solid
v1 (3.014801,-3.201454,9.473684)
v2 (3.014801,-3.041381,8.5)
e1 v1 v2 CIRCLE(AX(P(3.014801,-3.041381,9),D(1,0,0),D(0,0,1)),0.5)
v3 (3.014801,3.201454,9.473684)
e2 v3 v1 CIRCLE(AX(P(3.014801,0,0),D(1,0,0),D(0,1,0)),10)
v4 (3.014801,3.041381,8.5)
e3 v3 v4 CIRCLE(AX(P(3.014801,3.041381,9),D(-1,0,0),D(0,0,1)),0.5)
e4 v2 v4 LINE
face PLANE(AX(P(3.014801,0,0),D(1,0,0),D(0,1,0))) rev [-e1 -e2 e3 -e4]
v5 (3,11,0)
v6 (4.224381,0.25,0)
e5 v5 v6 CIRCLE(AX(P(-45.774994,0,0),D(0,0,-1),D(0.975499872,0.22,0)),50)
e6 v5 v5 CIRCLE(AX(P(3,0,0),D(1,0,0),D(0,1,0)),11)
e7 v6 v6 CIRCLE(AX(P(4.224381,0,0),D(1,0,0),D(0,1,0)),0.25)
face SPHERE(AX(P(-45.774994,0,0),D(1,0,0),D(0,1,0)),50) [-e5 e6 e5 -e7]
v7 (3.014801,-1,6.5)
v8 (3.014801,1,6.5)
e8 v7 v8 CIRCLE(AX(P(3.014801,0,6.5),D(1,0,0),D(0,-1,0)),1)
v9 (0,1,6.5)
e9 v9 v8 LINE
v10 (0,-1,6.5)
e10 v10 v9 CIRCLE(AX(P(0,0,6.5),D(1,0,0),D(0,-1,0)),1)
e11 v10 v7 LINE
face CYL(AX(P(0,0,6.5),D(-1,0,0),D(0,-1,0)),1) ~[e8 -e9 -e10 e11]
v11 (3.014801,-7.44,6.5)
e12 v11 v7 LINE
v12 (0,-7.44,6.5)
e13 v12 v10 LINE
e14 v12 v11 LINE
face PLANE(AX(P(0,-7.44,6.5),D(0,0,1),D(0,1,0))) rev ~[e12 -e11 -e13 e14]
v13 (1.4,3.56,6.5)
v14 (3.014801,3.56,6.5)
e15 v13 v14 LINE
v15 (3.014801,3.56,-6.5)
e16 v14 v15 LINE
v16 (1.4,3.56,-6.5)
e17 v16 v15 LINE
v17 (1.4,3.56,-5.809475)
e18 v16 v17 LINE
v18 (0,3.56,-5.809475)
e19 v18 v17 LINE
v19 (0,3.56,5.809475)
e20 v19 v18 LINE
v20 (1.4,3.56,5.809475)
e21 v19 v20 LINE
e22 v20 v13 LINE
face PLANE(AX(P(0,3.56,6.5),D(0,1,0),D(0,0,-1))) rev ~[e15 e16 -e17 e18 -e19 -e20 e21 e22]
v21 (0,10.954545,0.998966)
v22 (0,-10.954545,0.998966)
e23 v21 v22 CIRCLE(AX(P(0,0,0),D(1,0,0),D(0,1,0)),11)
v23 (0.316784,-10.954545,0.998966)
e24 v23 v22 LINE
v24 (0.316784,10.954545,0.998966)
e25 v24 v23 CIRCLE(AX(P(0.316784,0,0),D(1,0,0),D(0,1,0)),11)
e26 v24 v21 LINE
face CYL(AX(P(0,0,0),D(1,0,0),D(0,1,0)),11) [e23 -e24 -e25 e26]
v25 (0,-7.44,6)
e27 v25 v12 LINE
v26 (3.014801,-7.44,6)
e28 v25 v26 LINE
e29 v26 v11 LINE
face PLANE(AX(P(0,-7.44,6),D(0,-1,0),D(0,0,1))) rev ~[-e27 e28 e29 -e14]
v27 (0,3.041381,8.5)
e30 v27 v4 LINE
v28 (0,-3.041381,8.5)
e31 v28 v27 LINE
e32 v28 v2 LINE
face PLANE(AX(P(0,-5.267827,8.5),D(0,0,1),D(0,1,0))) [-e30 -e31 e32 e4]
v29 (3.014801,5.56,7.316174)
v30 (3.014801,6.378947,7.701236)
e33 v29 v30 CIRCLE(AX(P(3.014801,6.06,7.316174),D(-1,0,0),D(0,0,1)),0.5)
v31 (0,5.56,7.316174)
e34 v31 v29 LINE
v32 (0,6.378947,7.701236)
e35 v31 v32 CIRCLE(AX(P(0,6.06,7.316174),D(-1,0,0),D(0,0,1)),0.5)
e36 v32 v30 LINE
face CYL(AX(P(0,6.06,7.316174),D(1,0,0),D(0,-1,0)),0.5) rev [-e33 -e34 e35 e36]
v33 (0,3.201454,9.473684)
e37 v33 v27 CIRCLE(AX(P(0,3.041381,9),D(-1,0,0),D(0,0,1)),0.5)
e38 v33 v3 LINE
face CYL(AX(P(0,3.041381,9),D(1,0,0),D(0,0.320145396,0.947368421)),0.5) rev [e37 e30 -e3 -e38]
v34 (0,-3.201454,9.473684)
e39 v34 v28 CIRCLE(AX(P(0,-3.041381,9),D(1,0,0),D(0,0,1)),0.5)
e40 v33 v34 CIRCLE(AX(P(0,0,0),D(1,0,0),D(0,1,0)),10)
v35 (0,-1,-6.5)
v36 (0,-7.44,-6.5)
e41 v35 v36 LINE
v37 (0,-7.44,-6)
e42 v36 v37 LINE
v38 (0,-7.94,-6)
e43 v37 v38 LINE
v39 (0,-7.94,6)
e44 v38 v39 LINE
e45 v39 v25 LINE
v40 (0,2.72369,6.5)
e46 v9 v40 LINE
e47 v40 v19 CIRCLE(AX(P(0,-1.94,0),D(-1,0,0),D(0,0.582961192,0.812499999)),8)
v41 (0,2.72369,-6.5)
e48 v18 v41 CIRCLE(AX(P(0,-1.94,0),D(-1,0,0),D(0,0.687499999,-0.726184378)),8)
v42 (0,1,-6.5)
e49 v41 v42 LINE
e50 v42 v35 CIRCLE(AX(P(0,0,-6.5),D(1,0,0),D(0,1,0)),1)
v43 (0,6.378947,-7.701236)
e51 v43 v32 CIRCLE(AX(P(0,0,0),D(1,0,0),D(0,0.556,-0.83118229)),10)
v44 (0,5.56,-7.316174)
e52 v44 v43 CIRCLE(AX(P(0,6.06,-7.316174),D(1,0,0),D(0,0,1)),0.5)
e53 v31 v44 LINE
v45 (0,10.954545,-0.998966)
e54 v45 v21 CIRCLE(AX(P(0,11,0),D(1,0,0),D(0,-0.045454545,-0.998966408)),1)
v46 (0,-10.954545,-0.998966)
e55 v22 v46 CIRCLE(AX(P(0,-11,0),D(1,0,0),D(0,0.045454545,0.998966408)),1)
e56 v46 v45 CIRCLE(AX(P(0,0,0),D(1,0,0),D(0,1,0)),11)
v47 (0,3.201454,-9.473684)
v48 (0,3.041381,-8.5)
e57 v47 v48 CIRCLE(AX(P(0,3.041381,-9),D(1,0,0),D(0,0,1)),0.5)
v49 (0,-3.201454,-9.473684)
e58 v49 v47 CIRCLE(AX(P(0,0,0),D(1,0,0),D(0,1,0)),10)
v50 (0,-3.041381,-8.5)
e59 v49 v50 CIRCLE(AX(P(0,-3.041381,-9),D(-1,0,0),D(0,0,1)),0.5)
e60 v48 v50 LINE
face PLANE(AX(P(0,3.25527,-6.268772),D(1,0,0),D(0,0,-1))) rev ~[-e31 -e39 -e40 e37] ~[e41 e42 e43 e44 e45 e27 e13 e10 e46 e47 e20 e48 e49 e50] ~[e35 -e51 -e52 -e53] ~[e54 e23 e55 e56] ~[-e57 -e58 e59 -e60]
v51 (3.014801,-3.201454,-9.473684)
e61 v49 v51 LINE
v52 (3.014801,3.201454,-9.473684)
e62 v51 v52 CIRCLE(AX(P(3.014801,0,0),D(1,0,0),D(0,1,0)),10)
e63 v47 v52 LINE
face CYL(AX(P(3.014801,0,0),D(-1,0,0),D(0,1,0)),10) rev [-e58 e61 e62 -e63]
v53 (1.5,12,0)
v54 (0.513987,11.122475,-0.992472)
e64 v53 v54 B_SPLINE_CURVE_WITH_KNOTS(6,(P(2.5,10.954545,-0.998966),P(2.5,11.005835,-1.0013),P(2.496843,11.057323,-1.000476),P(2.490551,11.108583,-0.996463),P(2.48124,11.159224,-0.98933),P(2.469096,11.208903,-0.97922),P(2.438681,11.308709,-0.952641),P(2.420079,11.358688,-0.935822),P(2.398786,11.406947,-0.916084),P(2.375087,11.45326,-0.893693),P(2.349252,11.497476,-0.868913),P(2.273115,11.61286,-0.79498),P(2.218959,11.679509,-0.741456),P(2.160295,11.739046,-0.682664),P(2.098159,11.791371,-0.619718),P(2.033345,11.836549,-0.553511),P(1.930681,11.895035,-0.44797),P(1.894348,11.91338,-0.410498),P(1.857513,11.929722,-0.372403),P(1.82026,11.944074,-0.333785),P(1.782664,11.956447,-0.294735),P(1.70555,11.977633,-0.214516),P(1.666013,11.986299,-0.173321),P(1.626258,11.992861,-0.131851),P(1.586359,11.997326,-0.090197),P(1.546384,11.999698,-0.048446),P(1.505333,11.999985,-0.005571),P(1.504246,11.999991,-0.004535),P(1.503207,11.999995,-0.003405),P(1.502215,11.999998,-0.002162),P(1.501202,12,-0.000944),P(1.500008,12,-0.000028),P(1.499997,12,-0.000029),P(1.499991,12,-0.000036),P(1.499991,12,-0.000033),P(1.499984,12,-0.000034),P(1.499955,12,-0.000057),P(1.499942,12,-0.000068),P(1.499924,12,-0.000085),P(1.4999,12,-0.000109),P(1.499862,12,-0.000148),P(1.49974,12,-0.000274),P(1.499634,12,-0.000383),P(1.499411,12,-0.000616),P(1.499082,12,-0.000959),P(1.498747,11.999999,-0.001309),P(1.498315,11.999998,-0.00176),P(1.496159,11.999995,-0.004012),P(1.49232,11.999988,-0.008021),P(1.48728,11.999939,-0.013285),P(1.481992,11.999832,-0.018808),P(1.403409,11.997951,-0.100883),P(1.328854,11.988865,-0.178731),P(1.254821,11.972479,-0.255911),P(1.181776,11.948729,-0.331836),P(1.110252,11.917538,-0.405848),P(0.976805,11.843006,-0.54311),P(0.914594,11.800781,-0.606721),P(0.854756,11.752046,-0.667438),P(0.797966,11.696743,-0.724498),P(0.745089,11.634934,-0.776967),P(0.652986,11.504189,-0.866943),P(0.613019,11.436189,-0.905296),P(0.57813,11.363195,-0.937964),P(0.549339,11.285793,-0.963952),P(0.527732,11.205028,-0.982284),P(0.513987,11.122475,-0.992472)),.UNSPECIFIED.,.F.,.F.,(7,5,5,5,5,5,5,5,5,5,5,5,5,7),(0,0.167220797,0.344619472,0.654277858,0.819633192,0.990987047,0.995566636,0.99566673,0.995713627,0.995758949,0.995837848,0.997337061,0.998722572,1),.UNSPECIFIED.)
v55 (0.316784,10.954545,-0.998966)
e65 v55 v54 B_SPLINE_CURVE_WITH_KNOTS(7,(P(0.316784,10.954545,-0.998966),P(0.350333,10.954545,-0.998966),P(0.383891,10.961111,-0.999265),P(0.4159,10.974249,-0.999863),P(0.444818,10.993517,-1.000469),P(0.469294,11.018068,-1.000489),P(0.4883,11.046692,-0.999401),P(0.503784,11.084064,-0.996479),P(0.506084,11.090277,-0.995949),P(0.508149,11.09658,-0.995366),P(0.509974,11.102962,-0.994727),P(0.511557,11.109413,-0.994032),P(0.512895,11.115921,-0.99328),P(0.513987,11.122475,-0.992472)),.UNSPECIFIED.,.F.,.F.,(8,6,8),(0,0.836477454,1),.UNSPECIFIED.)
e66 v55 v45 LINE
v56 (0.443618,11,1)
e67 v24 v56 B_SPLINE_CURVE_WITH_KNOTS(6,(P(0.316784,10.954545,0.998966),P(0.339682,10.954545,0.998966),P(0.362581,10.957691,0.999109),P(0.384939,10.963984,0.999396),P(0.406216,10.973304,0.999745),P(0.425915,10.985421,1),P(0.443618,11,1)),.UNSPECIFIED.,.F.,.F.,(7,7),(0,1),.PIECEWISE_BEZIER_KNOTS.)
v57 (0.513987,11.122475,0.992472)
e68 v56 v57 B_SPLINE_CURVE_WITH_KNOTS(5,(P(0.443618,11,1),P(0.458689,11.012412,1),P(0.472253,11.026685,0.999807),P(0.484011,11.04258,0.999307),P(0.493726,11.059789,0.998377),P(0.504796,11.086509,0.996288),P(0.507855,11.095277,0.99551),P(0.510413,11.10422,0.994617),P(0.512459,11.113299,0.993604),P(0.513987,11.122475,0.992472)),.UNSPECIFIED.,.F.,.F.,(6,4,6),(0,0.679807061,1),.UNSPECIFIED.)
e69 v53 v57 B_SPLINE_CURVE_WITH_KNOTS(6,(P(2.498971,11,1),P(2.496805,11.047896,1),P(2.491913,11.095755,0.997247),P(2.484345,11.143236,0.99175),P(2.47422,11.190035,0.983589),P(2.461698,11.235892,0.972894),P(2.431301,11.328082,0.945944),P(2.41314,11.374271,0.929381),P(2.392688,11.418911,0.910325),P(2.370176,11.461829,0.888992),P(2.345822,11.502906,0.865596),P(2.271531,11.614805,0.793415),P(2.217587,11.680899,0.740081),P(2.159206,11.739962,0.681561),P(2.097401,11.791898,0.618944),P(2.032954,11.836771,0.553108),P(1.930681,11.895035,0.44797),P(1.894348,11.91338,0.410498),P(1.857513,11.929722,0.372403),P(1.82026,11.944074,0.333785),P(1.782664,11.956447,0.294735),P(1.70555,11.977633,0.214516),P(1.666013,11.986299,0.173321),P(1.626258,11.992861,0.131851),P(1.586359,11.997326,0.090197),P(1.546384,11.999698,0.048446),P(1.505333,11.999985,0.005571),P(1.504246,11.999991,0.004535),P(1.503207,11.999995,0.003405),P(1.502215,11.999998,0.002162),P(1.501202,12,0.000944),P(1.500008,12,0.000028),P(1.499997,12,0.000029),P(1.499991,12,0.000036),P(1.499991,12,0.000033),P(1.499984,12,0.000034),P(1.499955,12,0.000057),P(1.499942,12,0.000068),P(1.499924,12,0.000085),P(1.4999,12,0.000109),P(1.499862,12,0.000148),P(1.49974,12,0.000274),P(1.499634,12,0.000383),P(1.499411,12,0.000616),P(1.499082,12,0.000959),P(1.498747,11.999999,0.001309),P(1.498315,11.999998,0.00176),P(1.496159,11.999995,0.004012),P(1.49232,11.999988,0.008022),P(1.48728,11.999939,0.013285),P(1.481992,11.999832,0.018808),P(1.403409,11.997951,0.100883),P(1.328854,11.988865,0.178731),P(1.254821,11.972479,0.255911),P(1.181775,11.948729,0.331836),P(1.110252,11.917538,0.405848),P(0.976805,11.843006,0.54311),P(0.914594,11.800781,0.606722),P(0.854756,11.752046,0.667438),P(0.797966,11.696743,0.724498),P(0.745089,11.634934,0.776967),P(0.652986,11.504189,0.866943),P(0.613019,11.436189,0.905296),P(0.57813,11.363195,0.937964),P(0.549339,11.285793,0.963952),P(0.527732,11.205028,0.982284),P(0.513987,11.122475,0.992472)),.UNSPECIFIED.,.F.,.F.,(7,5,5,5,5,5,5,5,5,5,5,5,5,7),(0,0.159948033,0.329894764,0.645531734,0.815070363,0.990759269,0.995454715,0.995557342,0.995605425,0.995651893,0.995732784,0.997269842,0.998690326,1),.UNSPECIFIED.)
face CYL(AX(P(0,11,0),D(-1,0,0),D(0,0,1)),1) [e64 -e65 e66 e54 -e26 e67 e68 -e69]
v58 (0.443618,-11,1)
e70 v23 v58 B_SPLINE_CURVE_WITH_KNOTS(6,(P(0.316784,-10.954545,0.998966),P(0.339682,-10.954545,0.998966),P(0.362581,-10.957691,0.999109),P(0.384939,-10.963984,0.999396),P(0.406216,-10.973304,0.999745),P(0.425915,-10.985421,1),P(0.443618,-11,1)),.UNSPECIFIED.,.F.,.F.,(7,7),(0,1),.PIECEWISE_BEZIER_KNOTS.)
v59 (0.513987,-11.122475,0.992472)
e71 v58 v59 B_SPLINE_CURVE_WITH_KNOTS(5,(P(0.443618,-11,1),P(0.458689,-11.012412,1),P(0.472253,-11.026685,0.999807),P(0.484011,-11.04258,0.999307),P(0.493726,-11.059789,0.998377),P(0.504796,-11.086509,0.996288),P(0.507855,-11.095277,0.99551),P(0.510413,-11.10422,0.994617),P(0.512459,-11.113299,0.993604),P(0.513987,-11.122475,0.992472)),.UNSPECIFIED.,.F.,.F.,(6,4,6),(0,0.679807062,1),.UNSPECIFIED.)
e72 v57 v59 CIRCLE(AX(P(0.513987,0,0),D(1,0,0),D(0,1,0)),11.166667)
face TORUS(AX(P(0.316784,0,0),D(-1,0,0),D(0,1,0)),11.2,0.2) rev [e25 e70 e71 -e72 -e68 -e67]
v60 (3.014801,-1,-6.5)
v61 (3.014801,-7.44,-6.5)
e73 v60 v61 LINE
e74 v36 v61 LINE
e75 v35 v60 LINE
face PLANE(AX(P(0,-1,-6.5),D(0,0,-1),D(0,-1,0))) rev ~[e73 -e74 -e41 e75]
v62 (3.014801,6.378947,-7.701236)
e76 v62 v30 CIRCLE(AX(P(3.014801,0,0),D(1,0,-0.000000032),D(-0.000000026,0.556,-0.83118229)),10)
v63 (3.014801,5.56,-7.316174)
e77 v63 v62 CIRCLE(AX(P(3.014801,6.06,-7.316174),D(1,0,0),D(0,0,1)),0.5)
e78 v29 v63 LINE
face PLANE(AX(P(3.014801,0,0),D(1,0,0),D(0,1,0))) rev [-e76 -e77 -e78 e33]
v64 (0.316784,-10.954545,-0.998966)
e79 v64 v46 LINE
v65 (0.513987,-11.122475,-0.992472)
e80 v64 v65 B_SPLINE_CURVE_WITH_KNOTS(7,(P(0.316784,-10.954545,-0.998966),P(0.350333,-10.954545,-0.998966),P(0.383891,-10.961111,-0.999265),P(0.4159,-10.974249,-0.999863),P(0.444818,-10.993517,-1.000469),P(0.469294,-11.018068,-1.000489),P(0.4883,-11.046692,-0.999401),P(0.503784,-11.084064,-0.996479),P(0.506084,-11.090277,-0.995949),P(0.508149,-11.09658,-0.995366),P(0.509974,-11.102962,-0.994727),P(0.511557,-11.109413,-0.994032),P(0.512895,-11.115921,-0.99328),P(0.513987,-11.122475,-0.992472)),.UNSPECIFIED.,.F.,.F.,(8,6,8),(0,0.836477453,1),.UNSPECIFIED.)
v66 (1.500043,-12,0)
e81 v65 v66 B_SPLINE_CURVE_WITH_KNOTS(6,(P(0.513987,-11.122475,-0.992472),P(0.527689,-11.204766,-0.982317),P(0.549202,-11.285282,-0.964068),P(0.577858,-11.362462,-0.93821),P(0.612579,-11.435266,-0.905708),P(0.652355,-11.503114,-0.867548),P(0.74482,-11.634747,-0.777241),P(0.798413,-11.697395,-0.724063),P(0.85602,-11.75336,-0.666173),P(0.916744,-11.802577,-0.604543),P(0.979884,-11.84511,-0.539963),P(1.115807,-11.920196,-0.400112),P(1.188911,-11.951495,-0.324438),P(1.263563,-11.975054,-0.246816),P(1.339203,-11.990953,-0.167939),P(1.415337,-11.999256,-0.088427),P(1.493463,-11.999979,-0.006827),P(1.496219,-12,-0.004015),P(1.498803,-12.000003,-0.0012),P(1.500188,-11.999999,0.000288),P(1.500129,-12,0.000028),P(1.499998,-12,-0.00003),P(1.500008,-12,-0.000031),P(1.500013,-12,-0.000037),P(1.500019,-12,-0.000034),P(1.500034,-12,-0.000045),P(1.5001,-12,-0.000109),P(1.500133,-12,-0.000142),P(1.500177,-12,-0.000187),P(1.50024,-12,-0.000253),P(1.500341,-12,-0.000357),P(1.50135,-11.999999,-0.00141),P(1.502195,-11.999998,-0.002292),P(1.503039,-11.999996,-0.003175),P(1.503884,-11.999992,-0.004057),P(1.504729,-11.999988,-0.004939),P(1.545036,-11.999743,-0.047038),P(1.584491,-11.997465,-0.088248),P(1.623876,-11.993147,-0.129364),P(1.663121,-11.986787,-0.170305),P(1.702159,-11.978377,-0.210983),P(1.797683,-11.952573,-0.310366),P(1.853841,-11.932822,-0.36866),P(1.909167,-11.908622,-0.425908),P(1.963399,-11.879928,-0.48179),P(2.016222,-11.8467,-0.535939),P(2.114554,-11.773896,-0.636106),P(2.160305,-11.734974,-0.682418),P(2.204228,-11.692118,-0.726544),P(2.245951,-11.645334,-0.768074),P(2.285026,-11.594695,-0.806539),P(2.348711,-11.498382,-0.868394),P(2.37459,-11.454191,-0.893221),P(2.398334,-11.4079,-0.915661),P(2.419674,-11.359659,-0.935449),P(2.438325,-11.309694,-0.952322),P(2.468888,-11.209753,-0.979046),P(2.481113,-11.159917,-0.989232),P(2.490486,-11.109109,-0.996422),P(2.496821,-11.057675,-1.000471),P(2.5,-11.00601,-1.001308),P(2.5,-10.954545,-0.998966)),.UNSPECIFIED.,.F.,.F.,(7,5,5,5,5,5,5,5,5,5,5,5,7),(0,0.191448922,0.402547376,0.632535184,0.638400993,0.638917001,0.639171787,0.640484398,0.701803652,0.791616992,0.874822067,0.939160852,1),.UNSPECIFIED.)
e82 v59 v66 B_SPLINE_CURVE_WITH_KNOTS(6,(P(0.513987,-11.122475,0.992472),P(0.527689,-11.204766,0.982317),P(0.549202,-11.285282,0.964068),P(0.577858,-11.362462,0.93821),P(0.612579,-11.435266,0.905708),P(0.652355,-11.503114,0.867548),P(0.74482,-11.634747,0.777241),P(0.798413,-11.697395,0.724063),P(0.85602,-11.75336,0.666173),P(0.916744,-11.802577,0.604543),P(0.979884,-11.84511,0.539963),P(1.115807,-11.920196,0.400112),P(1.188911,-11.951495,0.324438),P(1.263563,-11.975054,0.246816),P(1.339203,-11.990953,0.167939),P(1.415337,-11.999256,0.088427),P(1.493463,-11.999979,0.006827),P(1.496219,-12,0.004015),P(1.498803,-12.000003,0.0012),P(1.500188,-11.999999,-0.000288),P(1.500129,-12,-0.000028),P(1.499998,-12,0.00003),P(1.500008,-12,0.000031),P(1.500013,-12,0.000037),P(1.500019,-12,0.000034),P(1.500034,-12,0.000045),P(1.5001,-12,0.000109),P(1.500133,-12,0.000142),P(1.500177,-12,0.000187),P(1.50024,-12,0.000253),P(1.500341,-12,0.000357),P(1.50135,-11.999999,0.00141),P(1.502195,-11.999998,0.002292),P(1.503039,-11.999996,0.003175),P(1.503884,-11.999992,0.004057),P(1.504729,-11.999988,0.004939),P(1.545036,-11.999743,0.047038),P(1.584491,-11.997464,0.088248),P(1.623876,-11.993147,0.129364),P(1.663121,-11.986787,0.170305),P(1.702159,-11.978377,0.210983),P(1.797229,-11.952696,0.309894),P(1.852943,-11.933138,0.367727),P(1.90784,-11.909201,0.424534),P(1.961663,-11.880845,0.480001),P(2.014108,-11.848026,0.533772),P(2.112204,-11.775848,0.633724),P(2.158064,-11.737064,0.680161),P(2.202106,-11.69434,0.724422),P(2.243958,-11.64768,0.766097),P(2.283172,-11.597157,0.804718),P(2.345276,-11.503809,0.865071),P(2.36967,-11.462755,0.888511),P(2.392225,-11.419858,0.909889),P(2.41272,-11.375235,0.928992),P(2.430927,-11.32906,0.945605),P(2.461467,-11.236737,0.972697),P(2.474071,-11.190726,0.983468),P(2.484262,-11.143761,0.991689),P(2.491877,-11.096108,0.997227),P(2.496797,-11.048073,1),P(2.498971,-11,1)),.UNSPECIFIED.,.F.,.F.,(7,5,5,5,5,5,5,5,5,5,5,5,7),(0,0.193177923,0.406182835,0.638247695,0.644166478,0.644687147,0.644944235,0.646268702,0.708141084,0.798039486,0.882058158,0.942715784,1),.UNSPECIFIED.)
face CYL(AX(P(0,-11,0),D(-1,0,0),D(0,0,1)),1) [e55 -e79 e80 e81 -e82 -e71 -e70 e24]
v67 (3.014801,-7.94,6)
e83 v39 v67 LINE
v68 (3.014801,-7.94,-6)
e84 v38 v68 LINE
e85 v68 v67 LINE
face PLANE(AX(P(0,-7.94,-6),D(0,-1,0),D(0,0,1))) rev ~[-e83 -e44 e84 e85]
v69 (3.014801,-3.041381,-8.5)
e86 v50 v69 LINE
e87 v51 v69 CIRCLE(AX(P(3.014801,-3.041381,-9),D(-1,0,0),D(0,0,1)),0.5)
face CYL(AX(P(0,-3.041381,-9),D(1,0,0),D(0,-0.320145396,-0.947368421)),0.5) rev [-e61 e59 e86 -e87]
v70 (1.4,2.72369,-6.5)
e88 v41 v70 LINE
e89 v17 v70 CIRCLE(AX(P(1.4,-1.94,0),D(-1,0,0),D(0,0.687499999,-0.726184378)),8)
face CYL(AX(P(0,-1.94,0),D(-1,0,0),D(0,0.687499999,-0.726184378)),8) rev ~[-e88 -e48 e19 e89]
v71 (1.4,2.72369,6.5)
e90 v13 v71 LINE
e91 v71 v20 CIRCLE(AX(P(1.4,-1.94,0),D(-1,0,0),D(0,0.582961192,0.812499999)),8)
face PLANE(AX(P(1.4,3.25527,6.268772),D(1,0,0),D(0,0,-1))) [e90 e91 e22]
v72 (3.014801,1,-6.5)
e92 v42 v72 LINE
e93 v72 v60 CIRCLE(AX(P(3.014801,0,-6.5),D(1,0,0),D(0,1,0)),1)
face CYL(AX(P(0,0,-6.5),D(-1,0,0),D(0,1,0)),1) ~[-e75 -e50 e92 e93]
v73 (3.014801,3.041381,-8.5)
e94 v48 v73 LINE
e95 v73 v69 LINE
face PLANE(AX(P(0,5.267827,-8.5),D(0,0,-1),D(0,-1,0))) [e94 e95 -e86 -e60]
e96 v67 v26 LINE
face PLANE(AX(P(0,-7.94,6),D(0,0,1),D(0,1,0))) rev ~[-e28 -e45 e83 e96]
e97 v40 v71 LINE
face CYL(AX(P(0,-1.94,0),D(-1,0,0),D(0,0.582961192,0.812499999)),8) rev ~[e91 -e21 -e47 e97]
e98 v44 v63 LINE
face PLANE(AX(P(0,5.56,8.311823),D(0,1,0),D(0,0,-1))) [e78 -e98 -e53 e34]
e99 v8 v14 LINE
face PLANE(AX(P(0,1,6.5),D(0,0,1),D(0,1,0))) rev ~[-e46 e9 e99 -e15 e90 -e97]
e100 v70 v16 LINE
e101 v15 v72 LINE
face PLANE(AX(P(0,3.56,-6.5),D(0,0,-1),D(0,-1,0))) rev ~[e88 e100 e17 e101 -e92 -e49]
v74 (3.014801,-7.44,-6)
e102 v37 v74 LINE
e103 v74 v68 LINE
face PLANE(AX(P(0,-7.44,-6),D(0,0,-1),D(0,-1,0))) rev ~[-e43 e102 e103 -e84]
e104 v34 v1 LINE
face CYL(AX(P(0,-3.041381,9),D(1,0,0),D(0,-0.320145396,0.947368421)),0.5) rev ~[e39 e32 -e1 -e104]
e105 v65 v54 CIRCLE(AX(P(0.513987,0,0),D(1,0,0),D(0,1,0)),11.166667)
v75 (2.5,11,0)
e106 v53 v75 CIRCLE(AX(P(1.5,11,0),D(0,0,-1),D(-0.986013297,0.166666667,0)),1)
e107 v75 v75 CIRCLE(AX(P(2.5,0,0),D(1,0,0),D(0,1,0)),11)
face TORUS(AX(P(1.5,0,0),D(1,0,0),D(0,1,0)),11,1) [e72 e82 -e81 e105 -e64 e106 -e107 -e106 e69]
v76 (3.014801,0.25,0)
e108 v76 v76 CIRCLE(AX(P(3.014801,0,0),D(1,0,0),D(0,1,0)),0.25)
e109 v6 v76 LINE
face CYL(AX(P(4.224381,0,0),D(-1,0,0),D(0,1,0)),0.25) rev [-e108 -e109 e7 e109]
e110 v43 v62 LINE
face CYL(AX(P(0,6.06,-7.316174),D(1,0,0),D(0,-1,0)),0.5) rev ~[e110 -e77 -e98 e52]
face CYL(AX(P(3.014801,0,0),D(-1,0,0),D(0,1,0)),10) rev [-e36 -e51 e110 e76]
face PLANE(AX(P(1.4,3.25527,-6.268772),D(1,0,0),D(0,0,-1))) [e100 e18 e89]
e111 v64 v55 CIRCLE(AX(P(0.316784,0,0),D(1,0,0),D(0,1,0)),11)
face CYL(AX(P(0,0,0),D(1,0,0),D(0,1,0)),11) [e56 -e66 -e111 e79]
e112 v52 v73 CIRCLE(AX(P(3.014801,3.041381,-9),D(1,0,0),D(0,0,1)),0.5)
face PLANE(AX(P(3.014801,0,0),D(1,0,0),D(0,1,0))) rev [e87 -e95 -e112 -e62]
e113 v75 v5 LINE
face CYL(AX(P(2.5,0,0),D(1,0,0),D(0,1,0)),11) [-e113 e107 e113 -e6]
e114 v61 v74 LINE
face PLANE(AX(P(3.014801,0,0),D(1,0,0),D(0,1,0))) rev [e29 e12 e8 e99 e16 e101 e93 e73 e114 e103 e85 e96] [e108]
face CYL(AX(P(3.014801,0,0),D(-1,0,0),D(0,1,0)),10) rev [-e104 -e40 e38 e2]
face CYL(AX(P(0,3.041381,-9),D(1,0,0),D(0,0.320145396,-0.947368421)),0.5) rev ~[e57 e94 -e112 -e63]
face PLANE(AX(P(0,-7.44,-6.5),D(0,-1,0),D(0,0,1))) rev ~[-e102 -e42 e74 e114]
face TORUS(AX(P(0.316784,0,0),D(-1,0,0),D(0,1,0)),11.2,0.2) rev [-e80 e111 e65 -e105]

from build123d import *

# Parameters (mm, degrees)
BOSS_EXTRU_1_REACH = 6.224
ESQUISSE2_R        = 1
BOSS_EXTRU_2_DEPTH = 3.014801
BOSS_EXTRU_3_DEPTH = 1.4
CONG_3_R           = 0.5


with BuildPart() as part:
    # Esquisse1 → Révolution1 (revolve)
    with BuildSketch(Plane.XY):
        with BuildLine():
            Line((0, 10), (0, 11))
            Line((0, 11), (0.316784043, 11))
            ThreePointArc((0.316784043, 11), (0.445883488, 11.047247477), (0.513986703, 11.166666667))
            ThreePointArc((0.513986703, 11.166666667), (1.58362626, 11.996497189), (2.5, 11))
            Line((2.5, 11), (3, 11))
            ThreePointArc((3, 11), (3.90382078, 5.658215483), (4.224381403, 0.25))
            Line((4.224381403, 0.25), (3.014801263, 0.25))
            Line((3.014801263, 0.25), (3.014801263, 10))
            Line((3.014801263, 10), (0, 10))
        make_face()
    revolve(axis=Axis((-14.858593324, 0, 0), (1, 0, 0)))

    # Esquisse2 → Boss.-Extru.1 (add, up to next)
    with BuildSketch(Plane.ZY, mode=Mode.PRIVATE) as boss_extru_1_sk1:
        with Locations((0, 11)):
            Circle(ESQUISSE2_R)
    boss_extru_1_tool1 = extrude(boss_extru_1_sk1.sketch, amount=-BOSS_EXTRU_1_REACH, mode=Mode.PRIVATE) - part.part
    add(boss_extru_1_tool1.solids().sort_by_distance((0, 11, 0))[0])
    # Esquisse2 → Boss.-Extru.1 (add, up to next)
    with BuildSketch(Plane.ZY, mode=Mode.PRIVATE) as boss_extru_1_sk2:
        with Locations((0, -11)):
            Circle(ESQUISSE2_R)
    boss_extru_1_tool2 = extrude(boss_extru_1_sk2.sketch, amount=-BOSS_EXTRU_1_REACH, mode=Mode.PRIVATE) - part.part
    add(boss_extru_1_tool2.solids().sort_by_distance((0, -11, 0))[0])

    # Esquisse3 → Boss.-Extru.2 (add)
    with BuildSketch(Plane(origin=(0, 0, 0), x_dir=(0, 0, -1), z_dir=(1, 0, 0))):
        with BuildLine():
            Line((8.5, 0), (8.5, -5.267826876))
            ThreePointArc((8.5, -5.267826876), (0, -10), (-8.5, -5.267826876))
            Line((-8.5, -5.267826876), (-8.5, 0))
            Line((-8.5, 0), (-8.5, 5.267826876))
            ThreePointArc((-8.5, 5.267826876), (-8.407180778, 5.41473096), (-8.311822905, 5.56))
            Line((-8.311822905, 5.56), (8.311822905, 5.56))
            ThreePointArc((8.311822905, 5.56), (8.407180778, 5.41473096), (8.5, 5.267826876))
            Line((8.5, 5.267826876), (8.5, 0))
        make_face()
        with BuildLine():
            Line((6.5, -1), (6.5, -7.44))
            Line((6.5, -7.44), (6, -7.44))
            Line((6, -7.44), (6, -7.94))
            Line((6, -7.94), (-6, -7.94))
            Line((-6, -7.94), (-6, -7.44))
            Line((-6, -7.44), (-6.5, -7.44))
            Line((-6.5, -7.44), (-6.5, -1))
            ThreePointArc((-6.5, -1), (-5.5, 0), (-6.5, 1))
            Line((-6.5, 1), (-6.5, 3.56))
            Line((-6.5, 3.56), (6.5, 3.56))
            Line((6.5, 3.56), (6.5, 1))
            ThreePointArc((6.5, 1), (5.5, 0), (6.5, -1))
        make_face(mode=Mode.SUBTRACT)
    extrude(amount=BOSS_EXTRU_2_DEPTH)

    # Esquisse4 → Boss.-Extru.3 (add)
    with BuildSketch(Plane.ZY):
        with BuildLine():
            Line((-6.5, 3.56), (-5.809475019, 3.56))
            ThreePointArc((-5.809475019, 3.56), (-6.168925969, 3.153559893), (-6.5, 2.723689527))
            Line((-6.5, 2.723689527), (-6.5, 3.56))
        make_face()
        with BuildLine():
            Line((6.5, 3.56), (6.5, 2.723689527))
            ThreePointArc((6.5, 2.723689527), (6.168925969, 3.153559893), (5.809475019, 3.56))
            Line((5.809475019, 3.56), (6.5, 3.56))
        make_face()
    extrude(amount=-BOSS_EXTRU_3_DEPTH)

    # Congé3
    cong_3_edges = [part.edges().sort_by_distance(p)[0] for p in [
        (1.5074005, -5.267826876, -8.5),
        (1.5074005, -5.267826876, 8.5),
        (1.5074005, 5.267826876, 8.5),
        (1.5074005, 5.56, 8.311822905),
        (1.5074005, 5.56, -8.311822905),
        (1.5074005, 5.267826876, -8.5),
    ]]
    fillet(cong_3_edges, radius=CONG_3_R)


solid = part.part
